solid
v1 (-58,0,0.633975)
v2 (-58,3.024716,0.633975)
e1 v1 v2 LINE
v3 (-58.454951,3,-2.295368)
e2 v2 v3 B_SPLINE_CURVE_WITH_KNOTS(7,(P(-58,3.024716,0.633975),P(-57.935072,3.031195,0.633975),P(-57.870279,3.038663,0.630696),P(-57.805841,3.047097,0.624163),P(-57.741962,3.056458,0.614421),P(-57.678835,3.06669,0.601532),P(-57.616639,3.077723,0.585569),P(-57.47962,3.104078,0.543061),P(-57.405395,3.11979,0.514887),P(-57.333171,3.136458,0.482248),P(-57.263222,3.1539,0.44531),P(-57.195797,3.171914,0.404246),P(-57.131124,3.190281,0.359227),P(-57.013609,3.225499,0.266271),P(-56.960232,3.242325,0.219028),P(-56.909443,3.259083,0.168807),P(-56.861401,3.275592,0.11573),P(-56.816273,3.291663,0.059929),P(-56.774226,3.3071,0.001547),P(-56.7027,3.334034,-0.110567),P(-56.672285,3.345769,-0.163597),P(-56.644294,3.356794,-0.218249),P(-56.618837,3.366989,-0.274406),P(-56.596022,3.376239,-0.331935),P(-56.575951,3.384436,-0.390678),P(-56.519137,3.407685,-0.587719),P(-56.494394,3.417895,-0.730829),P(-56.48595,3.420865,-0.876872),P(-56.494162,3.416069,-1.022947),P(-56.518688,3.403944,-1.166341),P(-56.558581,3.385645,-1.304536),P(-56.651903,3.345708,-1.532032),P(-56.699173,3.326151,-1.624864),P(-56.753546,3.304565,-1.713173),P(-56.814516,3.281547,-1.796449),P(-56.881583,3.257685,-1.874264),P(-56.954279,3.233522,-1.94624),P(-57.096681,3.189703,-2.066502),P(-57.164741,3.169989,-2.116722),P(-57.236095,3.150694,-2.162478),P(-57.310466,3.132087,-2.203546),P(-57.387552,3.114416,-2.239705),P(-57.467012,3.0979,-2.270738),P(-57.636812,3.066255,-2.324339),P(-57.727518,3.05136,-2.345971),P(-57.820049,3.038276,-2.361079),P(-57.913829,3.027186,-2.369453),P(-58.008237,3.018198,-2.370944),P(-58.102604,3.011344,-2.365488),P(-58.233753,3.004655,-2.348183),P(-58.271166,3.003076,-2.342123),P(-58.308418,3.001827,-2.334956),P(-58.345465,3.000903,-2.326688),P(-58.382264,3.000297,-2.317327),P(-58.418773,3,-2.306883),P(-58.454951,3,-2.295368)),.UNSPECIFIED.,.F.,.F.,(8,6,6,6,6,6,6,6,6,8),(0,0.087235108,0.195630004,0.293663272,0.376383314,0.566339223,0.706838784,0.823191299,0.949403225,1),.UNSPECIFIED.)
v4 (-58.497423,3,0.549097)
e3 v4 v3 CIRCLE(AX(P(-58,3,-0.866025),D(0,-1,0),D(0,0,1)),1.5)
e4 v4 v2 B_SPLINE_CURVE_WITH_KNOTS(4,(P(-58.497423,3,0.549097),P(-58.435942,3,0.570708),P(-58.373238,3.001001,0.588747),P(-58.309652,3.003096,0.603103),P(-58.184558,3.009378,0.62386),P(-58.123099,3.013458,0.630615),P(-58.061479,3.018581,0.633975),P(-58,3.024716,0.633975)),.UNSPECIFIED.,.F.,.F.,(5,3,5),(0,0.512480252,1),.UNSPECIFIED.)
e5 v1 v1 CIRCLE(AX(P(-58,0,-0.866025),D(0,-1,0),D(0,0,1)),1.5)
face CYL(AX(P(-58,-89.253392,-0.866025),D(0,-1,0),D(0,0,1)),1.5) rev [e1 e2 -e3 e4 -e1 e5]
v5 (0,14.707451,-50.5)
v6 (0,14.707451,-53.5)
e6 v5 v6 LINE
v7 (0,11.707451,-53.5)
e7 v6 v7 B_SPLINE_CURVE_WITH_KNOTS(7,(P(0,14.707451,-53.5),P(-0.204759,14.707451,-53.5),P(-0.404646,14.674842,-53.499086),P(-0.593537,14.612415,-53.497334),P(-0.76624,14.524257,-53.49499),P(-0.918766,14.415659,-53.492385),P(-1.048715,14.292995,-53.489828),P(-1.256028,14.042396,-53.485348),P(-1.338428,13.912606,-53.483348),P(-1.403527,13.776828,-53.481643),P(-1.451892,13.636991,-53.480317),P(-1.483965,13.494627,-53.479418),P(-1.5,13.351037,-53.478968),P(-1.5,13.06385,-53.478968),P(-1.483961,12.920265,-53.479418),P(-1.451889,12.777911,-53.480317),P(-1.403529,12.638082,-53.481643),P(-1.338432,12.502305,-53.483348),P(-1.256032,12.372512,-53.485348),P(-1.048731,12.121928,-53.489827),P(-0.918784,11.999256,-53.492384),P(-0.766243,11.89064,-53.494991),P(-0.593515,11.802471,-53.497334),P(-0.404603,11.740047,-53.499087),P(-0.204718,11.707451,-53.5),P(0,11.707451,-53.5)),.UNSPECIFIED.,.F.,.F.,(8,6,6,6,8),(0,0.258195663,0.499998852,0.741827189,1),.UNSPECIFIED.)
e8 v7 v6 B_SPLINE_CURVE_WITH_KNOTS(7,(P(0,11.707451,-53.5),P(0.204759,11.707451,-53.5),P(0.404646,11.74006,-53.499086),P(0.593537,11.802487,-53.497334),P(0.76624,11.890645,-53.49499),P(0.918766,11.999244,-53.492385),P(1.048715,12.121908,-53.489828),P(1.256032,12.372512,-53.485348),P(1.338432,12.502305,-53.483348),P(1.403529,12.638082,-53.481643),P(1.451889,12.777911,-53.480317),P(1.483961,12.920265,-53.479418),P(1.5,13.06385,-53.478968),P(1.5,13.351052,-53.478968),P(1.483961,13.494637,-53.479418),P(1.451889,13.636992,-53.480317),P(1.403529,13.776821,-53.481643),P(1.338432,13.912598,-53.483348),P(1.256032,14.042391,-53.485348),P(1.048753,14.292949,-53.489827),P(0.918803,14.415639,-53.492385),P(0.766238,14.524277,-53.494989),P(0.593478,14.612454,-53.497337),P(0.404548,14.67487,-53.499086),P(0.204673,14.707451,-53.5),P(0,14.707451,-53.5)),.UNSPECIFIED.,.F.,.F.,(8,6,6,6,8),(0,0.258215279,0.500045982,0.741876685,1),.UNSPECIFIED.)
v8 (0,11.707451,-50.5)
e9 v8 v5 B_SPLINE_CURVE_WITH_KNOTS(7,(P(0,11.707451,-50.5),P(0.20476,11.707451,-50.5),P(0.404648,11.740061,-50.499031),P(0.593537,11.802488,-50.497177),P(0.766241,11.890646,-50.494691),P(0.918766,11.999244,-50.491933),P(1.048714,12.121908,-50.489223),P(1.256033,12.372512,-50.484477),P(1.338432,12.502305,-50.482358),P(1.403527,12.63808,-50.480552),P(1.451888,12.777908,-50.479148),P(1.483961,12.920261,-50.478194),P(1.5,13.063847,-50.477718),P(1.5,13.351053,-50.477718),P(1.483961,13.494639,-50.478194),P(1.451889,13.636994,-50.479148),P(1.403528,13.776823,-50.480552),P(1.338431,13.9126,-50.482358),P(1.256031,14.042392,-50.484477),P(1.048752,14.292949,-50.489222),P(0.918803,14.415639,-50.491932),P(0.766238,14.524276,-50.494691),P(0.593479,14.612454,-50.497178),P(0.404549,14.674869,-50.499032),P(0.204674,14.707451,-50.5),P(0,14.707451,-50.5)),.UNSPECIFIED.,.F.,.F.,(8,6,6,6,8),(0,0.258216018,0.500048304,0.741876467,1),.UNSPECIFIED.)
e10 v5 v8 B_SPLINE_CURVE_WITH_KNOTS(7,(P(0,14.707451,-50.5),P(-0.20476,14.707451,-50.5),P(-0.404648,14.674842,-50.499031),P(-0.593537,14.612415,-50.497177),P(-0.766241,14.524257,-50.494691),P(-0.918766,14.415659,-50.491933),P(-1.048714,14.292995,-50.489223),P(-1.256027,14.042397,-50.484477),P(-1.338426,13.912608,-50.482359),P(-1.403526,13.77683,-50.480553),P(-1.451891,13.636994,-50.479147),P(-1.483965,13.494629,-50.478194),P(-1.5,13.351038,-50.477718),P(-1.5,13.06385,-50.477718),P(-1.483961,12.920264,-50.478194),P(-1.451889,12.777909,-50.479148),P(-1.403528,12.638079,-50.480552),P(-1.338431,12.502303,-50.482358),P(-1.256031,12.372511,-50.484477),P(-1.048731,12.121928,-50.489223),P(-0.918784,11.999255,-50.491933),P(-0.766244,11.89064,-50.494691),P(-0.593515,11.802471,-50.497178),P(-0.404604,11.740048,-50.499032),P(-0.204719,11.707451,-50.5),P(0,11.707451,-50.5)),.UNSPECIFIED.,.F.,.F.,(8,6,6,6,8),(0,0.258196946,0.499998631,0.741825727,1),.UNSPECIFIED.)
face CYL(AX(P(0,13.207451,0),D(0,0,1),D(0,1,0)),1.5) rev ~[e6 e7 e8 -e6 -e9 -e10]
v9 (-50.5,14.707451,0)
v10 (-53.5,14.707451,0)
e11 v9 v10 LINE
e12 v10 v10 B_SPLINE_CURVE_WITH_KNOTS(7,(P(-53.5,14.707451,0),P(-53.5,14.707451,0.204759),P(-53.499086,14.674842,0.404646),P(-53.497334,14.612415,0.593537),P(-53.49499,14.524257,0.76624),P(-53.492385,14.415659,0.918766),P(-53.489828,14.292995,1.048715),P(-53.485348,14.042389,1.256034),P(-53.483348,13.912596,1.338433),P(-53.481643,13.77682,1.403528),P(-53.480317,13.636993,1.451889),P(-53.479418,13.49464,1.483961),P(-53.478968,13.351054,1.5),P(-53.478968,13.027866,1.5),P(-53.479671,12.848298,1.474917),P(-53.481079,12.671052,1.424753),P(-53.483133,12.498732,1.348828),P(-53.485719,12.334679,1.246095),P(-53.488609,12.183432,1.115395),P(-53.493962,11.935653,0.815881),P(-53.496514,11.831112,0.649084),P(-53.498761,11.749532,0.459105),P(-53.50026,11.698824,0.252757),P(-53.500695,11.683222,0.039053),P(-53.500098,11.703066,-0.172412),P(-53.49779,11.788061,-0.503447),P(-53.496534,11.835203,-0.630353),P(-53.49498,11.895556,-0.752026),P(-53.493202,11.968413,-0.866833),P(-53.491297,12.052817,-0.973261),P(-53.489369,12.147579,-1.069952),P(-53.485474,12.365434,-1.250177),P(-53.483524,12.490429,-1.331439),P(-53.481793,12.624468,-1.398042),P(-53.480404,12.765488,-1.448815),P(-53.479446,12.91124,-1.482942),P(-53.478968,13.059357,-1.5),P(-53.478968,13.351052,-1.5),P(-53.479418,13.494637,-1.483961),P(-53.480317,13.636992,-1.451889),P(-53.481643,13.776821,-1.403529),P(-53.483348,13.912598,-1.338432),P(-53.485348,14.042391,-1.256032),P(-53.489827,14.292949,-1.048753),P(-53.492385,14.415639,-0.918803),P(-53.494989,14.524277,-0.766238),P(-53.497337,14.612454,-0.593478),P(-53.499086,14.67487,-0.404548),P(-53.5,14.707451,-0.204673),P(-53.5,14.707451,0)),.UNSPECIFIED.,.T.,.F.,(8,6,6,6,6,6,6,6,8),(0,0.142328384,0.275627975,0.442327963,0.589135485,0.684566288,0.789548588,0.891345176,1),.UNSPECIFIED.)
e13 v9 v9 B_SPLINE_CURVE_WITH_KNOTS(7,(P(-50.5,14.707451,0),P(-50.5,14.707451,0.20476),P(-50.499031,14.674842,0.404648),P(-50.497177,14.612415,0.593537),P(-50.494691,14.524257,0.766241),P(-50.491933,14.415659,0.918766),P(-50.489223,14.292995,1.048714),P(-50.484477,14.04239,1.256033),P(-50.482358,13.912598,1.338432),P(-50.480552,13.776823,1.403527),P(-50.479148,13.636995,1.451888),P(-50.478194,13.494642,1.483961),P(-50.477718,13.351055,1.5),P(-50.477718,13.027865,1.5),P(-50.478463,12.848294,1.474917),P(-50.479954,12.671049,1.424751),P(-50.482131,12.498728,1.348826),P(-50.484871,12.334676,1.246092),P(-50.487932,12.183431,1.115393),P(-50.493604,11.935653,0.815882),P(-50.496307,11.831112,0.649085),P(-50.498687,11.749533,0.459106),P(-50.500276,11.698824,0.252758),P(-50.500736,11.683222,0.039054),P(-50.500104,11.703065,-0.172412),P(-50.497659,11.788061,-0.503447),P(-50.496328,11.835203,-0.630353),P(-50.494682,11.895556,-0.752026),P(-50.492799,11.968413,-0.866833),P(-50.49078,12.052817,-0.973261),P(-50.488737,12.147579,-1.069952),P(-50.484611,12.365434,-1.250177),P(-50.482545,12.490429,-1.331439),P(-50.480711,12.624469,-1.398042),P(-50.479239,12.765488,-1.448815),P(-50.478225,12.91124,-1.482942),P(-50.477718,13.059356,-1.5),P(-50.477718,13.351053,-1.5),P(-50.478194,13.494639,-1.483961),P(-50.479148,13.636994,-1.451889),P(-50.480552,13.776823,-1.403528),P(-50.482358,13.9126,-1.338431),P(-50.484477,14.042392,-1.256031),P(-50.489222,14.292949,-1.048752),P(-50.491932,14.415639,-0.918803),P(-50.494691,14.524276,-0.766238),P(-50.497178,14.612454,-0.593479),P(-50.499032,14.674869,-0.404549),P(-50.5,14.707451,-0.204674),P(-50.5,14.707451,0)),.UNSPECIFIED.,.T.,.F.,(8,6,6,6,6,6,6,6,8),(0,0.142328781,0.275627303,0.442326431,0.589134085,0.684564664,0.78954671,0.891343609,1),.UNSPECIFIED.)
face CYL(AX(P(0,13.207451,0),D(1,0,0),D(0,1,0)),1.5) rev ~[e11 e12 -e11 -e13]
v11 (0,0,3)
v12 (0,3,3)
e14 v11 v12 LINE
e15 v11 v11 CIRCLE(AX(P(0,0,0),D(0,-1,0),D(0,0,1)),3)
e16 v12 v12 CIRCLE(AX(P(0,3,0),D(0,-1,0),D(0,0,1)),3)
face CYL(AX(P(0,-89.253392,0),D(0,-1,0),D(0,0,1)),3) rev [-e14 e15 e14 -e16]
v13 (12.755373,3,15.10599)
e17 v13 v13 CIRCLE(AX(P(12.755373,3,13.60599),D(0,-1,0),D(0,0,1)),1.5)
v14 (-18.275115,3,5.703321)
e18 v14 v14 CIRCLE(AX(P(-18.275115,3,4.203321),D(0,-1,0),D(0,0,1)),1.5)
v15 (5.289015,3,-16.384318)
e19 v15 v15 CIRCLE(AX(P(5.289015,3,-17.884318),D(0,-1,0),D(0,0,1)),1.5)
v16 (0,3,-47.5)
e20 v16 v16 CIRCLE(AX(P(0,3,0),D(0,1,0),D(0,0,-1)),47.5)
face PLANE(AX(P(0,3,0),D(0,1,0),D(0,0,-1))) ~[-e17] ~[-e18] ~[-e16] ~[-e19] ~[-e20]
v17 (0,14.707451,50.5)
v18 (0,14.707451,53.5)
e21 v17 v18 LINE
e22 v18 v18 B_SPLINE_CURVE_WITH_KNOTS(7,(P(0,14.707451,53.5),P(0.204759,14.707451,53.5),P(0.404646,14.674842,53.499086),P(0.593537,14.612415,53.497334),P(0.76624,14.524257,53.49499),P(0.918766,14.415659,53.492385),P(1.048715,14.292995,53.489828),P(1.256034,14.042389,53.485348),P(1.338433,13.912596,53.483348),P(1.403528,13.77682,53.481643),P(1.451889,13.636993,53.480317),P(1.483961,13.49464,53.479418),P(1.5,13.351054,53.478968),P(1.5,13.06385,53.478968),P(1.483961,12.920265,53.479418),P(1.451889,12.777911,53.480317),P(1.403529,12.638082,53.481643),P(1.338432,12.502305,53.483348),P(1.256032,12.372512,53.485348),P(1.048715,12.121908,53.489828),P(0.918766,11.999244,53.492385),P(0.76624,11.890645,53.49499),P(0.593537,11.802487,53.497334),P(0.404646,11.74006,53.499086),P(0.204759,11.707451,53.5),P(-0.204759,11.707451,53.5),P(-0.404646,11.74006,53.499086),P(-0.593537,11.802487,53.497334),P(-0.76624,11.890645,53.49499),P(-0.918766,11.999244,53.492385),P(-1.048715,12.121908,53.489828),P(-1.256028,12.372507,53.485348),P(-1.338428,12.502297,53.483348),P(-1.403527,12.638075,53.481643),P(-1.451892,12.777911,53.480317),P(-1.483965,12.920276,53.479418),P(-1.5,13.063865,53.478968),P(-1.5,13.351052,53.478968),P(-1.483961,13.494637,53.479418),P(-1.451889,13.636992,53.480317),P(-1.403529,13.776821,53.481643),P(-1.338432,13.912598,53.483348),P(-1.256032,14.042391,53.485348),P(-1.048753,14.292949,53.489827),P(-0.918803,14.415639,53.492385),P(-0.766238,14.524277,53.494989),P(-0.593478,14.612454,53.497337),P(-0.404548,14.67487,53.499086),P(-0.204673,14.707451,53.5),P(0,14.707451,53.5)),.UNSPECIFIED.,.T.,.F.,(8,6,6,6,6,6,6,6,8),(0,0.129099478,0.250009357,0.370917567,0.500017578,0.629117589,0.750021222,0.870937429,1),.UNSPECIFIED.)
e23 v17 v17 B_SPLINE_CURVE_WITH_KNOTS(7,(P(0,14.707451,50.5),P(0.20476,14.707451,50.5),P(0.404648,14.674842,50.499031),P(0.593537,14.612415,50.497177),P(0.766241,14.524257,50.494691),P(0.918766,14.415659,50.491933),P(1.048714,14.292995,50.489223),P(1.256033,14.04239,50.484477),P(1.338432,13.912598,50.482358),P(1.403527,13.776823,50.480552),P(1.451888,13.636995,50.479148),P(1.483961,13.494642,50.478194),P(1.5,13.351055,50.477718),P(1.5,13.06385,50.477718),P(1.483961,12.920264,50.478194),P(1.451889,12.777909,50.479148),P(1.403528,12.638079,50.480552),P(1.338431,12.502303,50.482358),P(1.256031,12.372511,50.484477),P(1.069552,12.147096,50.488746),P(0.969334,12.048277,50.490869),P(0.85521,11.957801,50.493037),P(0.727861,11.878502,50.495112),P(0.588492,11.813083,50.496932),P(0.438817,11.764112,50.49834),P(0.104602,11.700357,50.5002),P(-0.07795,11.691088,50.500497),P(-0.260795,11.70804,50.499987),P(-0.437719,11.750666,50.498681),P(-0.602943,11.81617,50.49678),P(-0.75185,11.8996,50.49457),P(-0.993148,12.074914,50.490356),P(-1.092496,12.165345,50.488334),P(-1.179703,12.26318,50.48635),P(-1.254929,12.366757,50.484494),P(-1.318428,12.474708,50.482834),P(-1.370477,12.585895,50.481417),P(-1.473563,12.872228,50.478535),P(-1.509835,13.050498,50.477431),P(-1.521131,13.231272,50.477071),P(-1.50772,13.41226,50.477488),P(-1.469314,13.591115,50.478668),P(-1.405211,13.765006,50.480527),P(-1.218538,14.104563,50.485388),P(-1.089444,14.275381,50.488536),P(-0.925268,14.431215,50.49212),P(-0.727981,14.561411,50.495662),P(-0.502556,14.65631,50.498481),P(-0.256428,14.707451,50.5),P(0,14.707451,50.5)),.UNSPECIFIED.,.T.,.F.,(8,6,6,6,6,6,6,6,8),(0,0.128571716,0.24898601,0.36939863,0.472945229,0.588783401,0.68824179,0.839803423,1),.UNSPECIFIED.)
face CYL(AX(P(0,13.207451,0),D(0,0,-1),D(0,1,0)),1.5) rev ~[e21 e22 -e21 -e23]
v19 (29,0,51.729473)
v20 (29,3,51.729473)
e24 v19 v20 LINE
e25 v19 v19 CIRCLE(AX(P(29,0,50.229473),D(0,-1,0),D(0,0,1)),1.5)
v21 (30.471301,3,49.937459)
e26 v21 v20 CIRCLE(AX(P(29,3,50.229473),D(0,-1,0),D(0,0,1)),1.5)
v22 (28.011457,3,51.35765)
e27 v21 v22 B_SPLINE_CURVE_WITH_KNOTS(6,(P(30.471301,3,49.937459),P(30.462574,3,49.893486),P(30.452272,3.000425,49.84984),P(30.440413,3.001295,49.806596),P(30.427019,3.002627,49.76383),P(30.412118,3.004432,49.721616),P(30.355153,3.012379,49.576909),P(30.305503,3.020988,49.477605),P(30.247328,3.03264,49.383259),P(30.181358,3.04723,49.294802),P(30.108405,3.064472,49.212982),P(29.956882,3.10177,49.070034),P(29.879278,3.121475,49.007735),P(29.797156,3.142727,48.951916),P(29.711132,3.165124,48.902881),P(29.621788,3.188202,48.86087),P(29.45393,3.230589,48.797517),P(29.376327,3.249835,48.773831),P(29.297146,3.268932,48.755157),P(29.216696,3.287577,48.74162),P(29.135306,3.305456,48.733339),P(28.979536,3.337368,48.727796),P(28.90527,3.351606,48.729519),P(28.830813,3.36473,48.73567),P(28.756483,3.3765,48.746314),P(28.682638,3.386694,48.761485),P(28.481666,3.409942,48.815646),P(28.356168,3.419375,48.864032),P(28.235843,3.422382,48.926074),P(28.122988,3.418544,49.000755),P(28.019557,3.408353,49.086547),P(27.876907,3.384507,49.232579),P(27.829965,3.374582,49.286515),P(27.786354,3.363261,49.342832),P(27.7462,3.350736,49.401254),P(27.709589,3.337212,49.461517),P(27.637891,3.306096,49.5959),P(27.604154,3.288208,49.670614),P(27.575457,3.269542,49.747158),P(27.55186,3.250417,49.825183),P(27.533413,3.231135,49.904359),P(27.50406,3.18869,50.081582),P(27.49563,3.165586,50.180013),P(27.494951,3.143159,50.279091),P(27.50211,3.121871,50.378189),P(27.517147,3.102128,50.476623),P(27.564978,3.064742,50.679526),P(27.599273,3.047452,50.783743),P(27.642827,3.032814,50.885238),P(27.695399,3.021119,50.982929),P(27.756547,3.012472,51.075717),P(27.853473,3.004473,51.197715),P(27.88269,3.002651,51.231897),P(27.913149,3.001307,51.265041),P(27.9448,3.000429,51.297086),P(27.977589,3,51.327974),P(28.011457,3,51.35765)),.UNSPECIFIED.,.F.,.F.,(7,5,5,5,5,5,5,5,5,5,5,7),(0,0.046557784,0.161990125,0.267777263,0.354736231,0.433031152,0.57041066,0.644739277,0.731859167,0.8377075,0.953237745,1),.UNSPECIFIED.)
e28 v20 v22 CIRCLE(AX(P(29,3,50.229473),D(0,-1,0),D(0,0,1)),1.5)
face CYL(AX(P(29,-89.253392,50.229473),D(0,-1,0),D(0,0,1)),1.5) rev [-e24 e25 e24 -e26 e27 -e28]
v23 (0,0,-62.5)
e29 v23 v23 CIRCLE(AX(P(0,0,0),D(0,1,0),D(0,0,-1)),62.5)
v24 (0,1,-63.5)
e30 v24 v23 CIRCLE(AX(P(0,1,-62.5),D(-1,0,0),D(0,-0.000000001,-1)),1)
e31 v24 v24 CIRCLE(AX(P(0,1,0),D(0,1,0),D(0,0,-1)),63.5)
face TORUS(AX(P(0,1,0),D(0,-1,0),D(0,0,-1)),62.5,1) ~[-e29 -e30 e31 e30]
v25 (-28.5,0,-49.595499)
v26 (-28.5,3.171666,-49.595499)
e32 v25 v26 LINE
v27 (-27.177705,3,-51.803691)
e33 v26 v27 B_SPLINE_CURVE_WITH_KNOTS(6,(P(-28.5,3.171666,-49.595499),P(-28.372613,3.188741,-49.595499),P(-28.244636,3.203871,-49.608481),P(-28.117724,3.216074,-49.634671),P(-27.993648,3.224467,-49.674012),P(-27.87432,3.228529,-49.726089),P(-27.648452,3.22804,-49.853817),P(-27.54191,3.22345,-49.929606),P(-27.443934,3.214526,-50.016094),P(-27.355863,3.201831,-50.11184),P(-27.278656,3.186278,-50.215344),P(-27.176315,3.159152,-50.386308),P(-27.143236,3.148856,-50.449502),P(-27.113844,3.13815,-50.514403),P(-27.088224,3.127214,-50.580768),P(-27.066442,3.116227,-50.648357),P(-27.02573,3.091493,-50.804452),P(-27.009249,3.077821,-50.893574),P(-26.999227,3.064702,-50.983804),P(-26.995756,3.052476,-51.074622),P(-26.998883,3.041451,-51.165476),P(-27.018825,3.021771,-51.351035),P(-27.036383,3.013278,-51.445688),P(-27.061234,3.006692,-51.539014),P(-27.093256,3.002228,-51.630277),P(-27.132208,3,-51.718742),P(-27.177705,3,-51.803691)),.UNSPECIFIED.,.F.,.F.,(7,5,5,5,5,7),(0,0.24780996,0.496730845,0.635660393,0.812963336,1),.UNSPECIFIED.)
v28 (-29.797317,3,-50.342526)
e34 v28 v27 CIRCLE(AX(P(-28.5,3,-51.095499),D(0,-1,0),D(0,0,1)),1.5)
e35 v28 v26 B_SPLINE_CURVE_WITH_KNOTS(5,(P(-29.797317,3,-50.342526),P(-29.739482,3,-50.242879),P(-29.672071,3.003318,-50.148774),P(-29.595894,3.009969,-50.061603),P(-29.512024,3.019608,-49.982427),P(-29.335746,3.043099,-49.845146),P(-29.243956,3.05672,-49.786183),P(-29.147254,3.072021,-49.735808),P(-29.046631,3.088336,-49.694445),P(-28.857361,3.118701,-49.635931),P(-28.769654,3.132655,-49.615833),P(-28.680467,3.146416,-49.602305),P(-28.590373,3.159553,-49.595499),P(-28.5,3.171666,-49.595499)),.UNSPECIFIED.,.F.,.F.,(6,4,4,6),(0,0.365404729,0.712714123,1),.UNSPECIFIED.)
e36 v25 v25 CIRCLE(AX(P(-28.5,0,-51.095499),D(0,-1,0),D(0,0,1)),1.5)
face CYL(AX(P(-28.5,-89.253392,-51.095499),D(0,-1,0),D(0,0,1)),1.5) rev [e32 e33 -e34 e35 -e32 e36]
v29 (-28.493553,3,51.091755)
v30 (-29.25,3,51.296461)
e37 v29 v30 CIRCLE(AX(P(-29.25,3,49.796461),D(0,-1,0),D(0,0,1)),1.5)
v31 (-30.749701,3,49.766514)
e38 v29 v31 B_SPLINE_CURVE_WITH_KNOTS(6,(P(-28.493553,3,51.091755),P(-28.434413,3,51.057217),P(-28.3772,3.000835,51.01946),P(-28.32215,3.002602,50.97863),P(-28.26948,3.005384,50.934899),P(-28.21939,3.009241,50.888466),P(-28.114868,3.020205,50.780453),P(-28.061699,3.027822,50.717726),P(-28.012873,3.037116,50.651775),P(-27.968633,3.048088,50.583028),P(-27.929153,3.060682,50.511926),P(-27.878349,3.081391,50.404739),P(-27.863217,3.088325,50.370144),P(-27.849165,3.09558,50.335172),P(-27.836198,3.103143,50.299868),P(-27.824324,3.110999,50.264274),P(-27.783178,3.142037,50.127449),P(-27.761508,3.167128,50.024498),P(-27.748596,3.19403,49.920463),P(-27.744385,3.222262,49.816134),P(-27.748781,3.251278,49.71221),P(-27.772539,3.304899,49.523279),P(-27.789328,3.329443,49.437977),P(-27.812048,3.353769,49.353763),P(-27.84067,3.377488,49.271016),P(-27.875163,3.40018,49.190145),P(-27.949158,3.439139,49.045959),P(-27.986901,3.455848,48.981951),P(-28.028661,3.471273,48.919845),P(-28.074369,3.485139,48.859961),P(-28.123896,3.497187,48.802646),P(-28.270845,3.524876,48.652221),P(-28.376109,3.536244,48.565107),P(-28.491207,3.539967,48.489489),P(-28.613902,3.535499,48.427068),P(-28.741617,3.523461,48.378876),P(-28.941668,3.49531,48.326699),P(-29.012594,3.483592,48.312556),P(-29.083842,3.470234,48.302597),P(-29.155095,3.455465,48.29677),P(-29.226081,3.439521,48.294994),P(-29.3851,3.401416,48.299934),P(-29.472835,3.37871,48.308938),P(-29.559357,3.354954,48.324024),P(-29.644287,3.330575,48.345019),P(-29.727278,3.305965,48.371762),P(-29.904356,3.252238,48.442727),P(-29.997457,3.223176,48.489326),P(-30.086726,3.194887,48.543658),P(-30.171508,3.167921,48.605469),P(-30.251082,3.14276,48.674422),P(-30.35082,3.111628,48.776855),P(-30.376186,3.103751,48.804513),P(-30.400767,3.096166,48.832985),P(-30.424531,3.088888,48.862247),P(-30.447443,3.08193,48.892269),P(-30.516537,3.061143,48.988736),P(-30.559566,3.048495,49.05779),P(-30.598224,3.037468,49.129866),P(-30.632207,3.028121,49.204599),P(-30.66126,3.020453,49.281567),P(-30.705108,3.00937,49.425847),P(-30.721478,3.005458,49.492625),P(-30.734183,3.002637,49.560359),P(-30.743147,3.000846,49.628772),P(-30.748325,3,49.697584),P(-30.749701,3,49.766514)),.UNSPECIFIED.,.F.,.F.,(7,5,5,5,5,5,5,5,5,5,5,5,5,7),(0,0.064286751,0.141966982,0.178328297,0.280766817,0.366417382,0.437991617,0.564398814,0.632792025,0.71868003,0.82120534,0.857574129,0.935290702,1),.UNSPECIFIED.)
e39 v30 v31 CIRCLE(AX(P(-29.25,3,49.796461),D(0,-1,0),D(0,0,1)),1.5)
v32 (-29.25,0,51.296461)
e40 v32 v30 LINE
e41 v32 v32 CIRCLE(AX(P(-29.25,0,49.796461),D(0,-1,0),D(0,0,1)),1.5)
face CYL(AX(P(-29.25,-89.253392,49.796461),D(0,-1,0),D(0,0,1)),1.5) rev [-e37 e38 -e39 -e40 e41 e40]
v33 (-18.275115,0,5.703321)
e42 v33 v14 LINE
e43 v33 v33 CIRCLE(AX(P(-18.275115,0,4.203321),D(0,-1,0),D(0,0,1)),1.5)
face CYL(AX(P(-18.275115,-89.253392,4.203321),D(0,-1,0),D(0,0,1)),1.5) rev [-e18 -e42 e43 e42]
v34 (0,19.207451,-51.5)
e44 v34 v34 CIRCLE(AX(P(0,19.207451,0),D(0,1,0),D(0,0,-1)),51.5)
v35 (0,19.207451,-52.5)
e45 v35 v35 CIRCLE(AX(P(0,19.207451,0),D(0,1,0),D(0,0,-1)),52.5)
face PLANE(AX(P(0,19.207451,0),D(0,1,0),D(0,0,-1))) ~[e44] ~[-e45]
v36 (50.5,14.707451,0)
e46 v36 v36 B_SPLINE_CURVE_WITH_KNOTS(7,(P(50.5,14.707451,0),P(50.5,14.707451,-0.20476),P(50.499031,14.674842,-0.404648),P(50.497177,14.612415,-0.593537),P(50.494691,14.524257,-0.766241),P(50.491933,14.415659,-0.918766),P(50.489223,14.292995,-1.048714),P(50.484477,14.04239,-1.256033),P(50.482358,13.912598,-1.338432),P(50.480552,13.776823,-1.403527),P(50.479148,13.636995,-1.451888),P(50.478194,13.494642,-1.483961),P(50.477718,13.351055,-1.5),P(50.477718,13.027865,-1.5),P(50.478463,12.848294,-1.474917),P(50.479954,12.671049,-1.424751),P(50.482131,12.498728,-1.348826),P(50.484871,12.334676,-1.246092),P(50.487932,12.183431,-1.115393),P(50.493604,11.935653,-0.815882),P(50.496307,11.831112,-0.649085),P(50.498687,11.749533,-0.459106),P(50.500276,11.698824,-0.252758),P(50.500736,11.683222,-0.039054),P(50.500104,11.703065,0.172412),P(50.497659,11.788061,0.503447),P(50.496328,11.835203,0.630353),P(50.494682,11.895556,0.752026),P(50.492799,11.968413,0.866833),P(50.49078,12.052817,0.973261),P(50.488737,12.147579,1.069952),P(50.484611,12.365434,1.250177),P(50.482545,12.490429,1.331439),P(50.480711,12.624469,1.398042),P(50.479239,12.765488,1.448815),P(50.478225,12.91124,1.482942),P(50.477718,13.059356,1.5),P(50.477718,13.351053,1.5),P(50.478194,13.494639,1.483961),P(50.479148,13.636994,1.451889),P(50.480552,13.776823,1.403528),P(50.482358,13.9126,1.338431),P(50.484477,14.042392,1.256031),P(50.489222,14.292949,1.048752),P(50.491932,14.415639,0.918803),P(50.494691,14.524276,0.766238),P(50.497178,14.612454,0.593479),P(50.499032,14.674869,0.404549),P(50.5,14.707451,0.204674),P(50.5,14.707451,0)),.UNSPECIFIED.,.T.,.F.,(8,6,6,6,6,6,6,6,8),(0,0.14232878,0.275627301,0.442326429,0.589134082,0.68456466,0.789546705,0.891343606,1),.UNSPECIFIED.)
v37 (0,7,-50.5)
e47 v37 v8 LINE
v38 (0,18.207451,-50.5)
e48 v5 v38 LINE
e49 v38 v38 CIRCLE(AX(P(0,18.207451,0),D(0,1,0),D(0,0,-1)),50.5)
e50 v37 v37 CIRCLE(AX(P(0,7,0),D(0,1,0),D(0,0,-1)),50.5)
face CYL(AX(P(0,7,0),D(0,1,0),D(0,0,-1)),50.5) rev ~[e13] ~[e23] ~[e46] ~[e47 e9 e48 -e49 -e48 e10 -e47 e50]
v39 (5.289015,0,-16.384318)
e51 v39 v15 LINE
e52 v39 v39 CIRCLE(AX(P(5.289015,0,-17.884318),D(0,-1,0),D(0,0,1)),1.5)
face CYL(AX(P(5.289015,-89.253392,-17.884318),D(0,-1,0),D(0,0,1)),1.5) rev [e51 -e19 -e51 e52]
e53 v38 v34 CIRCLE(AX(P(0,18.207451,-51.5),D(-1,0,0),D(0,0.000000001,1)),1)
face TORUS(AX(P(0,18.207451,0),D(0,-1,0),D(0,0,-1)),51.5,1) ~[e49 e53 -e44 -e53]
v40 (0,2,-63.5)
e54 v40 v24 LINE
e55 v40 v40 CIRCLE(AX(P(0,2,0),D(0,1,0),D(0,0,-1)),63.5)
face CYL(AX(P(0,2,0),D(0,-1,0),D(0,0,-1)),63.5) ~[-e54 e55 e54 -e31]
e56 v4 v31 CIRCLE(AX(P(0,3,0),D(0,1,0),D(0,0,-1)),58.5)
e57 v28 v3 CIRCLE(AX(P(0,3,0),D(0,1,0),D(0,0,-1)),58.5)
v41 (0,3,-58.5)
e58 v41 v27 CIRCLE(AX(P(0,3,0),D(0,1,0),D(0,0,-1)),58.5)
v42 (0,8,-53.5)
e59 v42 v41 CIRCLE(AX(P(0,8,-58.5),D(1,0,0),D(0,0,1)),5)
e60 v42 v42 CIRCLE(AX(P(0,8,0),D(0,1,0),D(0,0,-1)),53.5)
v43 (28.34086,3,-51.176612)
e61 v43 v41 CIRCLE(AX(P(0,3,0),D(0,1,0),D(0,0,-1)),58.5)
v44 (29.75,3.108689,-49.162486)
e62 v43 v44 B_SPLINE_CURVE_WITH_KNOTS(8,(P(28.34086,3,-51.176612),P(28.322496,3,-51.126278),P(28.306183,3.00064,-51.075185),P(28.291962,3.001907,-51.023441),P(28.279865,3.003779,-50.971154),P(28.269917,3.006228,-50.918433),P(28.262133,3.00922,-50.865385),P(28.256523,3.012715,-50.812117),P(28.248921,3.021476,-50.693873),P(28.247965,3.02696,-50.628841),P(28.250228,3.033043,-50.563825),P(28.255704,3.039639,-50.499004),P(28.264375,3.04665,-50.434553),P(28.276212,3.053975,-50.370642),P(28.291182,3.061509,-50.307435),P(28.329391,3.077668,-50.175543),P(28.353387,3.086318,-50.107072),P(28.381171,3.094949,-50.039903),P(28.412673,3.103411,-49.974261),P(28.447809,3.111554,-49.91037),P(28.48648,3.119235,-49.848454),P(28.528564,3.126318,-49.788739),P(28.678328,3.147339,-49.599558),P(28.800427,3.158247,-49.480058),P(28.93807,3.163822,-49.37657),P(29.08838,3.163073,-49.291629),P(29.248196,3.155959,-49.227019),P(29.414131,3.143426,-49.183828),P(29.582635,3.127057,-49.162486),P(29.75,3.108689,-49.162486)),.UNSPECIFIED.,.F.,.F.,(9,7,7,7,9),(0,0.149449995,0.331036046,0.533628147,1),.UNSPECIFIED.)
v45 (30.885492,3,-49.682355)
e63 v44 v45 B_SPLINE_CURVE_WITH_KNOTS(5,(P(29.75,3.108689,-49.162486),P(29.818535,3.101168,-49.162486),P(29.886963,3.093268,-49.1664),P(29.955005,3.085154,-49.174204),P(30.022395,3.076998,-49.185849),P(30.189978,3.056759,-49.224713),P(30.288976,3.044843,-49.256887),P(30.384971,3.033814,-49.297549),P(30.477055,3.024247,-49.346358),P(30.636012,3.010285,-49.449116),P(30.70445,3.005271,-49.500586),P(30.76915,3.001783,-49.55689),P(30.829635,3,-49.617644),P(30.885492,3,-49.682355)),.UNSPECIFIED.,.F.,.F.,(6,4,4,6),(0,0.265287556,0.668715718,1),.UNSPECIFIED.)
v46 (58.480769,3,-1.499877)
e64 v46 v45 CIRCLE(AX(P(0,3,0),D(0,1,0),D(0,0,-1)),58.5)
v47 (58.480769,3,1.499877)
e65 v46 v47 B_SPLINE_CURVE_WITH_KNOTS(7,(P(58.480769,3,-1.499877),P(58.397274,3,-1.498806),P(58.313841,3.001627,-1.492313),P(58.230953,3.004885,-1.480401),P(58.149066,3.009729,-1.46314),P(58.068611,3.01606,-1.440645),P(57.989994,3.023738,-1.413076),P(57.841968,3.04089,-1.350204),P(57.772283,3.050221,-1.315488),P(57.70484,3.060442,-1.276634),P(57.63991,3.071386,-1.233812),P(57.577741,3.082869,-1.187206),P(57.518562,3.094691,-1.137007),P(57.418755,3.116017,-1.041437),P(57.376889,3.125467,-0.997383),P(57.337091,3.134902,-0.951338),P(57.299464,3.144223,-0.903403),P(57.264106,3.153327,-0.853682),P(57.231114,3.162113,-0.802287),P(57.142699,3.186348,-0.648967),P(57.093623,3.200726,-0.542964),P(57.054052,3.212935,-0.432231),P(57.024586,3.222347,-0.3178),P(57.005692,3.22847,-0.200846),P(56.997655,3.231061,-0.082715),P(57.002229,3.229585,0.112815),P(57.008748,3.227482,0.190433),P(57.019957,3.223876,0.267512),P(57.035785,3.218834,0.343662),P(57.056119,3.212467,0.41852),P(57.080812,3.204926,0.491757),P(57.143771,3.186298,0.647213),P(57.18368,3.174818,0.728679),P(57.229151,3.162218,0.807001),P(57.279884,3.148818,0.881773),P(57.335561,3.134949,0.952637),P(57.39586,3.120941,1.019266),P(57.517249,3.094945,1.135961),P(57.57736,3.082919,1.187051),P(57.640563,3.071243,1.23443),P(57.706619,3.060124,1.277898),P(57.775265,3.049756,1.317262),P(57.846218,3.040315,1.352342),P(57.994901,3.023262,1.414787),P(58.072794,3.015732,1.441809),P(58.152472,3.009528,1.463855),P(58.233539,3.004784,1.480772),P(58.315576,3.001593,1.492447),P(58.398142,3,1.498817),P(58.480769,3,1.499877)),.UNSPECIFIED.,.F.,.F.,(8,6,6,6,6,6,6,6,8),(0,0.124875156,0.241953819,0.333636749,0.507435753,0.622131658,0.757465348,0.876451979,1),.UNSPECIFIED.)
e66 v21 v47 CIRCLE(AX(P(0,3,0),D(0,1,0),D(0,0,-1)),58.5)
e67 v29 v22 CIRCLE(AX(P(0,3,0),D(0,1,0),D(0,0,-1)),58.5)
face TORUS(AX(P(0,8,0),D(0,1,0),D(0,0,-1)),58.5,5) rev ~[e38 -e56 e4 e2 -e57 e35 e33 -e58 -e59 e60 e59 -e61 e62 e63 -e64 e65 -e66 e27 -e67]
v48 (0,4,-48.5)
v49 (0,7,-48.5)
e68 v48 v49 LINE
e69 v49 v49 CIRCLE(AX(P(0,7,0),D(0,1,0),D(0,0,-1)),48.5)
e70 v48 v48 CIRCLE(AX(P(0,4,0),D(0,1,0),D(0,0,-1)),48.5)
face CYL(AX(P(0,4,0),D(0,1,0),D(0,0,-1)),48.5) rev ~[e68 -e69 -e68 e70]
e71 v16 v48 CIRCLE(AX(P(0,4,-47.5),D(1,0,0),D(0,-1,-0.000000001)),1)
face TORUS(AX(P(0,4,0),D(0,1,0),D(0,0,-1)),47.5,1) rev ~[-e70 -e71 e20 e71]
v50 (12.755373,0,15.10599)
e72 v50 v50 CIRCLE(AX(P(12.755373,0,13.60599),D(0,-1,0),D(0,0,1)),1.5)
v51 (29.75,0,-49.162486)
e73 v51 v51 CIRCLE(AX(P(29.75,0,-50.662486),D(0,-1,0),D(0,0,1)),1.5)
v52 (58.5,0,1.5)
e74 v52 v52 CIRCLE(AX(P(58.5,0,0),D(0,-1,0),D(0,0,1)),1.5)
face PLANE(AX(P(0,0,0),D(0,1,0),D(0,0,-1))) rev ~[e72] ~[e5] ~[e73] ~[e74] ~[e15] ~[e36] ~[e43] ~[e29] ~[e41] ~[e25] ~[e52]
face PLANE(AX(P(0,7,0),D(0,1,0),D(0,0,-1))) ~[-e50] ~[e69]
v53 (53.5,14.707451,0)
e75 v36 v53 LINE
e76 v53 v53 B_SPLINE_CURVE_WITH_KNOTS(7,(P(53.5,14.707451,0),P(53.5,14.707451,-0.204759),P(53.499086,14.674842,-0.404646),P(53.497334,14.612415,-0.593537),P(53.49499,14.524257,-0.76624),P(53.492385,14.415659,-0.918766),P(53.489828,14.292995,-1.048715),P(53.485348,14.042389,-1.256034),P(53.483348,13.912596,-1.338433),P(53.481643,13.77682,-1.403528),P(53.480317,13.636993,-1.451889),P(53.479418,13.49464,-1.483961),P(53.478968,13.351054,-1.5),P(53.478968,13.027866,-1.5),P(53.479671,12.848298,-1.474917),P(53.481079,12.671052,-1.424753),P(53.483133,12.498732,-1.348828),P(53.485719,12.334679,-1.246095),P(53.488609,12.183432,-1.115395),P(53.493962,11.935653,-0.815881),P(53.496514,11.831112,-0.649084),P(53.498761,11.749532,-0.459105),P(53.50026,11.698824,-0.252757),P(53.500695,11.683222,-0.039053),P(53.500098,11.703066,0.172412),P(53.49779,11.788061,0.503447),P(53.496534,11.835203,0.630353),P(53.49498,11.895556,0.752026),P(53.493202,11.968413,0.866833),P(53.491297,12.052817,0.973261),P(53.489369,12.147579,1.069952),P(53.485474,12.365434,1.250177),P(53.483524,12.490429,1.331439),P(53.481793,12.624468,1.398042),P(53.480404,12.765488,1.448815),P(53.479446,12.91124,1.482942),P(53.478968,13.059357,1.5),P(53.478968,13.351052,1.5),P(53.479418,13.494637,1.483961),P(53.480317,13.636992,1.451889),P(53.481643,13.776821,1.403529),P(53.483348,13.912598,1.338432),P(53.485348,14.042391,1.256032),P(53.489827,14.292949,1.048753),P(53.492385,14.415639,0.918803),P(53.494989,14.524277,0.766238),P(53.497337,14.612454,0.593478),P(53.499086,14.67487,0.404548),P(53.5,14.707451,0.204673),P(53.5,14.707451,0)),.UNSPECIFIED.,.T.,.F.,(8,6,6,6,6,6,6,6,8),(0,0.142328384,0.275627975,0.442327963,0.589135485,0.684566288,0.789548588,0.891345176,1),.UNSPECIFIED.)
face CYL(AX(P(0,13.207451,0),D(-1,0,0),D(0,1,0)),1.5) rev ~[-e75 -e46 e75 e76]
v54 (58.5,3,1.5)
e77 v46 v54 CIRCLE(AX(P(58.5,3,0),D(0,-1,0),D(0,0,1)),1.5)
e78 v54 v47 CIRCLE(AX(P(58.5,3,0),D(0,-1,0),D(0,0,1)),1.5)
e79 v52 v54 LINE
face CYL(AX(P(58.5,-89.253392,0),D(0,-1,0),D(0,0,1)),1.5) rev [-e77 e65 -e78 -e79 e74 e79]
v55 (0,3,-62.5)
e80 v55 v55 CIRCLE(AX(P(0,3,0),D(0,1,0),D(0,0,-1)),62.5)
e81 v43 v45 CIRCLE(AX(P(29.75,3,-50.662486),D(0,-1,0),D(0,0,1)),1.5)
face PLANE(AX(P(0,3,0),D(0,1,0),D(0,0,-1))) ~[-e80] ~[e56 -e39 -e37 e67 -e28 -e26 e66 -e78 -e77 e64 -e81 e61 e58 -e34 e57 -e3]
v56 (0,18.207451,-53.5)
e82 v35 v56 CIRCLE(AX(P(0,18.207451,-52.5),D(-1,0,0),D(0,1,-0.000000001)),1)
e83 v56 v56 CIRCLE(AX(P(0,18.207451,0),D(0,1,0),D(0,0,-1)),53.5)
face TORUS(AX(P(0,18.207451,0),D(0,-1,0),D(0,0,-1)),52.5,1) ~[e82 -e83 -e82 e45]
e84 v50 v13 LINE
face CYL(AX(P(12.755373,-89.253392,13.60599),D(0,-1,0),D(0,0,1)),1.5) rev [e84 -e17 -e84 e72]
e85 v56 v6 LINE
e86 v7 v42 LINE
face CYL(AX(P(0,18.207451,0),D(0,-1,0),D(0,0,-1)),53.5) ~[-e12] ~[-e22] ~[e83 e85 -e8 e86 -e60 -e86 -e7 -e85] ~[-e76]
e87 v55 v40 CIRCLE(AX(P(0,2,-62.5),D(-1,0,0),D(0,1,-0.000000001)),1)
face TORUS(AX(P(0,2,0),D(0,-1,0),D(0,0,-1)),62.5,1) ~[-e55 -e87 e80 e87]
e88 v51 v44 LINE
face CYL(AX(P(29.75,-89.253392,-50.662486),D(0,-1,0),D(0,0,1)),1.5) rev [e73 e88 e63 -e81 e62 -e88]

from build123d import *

# Parameters (mm, degrees)
CUT_EXTRUDE3_DEPTH      = 92.25339168
CUT_EXTRUDE3_DEPTH_BACK = 92.25339168
SKETCH3_R               = 1.5
CUT_EXTRUDE4_DEPTH      = 92.25339168
CUT_EXTRUDE4_DEPTH_BACK = 92.25339168
SKETCH4_R               = 1.5
SKETCH4_R_2             = 3
SKETCH5_R               = 1.5
CUT_EXTRUDE5_DEPTH      = 80
CIRPATTERN1_COUNT       = 4


with BuildPart() as part:
    # Sketch1 → Revolve1 (revolve)
    with BuildSketch(Plane.XY, mode=Mode.PRIVATE) as revolve1_sk:
        with BuildLine():
            Line((0, 0), (0, 3))
            Line((0, 3), (47.5, 3))
            ThreePointArc((47.5, 3), (48.207106781, 3.292893219), (48.5, 4))
            Line((48.5, 4), (48.5, 7))
            Line((48.5, 7), (50.5, 7))
            Line((50.5, 7), (50.5, 17))
            Line((50.5, 17), (50.5, 18.207451384))
            ThreePointArc((50.5, 18.207451384), (50.792893219, 18.914558165), (51.5, 19.207451384))
            Line((51.5, 19.207451384), (52.5, 19.207451384))
            ThreePointArc((52.5, 19.207451384), (53.207106781, 18.914558165), (53.5, 18.207451384))
            Line((53.5, 18.207451384), (53.5, 8))
            ThreePointArc((53.5, 8), (54.964466094, 4.464466094), (58.5, 3))
            Line((58.5, 3), (62.5, 3))
            ThreePointArc((62.5, 3), (63.207106781, 2.707106781), (63.5, 2))
            Line((63.5, 2), (63.5, 1))
            ThreePointArc((63.5, 1), (63.207106781, 0.292893219), (62.5, 0))
            Line((62.5, 0), (38, 0))
            Line((38, 0), (0, 0))
        make_face()
    revolve(revolve1_sk.sketch.rotate(Axis((0, 0, 0), (0, 1, 0)), 90), axis=Axis((0, 0, 0), (0, 1, 0)))

    # Sketch3 → Cut-Extrude3 (cut, two sides: drawn at the far end of the back side and taken through both)
    with BuildSketch(Plane(origin=(0, 3, 0), x_dir=(1, 0, 0), z_dir=(0, 1, 0)).offset(-CUT_EXTRUDE3_DEPTH_BACK)):
        with Locations(Location((58.5, 0, 0), (0, 0, 270))):
            Circle(SKETCH3_R)
        with Locations(Location((29, -50.229473419, 0), (0, 0, 270))):
            Circle(SKETCH3_R)
        with Locations(Location((-29.25, -49.796460718, 0), (0, 0, 270))):
            Circle(SKETCH3_R)
        with Locations(Location((-58, 0.866025404, 0), (0, 0, 270))):
            Circle(SKETCH3_R)
        with Locations(Location((-28.5, 51.095498823, 0), (0, 0, 270))):
            Circle(SKETCH3_R)
        with Locations(Location((29.75, 50.662486121, 0), (0, 0, 270))):
            Circle(SKETCH3_R)
    extrude(amount=CUT_EXTRUDE3_DEPTH + CUT_EXTRUDE3_DEPTH_BACK, mode=Mode.SUBTRACT)

    # Sketch4 → Cut-Extrude4 (cut, two sides: drawn at the far end of the back side and taken through both)
    with BuildSketch(Plane(origin=(0, 3, 0), x_dir=(1, 0, 0), z_dir=(0, 1, 0)).offset(-CUT_EXTRUDE4_DEPTH_BACK)):
        with Locations(Location((5.289014686, 17.884317813, 0), (0, 0, 270))):
            Circle(SKETCH4_R)
        with Locations(Location((12.75537332, -13.605989544, 0), (0, 0, 270))):
            Circle(SKETCH4_R)
        with Locations(Location((-18.275114935, -4.203321261, 0), (0, 0, 270))):
            Circle(SKETCH4_R)
        with Locations(Location((0, 0, 0), (0, 0, 270))):
            Circle(SKETCH4_R_2)
    extrude(amount=CUT_EXTRUDE4_DEPTH + CUT_EXTRUDE4_DEPTH_BACK, mode=Mode.SUBTRACT)

    # Sketch5 → Cut-Extrude5 (cut)
    with BuildSketch(Plane.XY):
        with Locations(Location((0, 13.207451384, 0), (0, 0, 90))):
            Circle(SKETCH5_R)
    cut_extrude5 = extrude(amount=-CUT_EXTRUDE5_DEPTH, mode=Mode.SUBTRACT)

    # CirPattern1: Cut-Extrude5 ×4 about axis
    cirpattern1_axis = Axis((0, 0, 0), (0, -1, 0))
    for i in range(1, CIRPATTERN1_COUNT):
        add(cut_extrude5.rotate(cirpattern1_axis, i * 360 / CIRPATTERN1_COUNT), mode=Mode.SUBTRACT)


solid = part.part
